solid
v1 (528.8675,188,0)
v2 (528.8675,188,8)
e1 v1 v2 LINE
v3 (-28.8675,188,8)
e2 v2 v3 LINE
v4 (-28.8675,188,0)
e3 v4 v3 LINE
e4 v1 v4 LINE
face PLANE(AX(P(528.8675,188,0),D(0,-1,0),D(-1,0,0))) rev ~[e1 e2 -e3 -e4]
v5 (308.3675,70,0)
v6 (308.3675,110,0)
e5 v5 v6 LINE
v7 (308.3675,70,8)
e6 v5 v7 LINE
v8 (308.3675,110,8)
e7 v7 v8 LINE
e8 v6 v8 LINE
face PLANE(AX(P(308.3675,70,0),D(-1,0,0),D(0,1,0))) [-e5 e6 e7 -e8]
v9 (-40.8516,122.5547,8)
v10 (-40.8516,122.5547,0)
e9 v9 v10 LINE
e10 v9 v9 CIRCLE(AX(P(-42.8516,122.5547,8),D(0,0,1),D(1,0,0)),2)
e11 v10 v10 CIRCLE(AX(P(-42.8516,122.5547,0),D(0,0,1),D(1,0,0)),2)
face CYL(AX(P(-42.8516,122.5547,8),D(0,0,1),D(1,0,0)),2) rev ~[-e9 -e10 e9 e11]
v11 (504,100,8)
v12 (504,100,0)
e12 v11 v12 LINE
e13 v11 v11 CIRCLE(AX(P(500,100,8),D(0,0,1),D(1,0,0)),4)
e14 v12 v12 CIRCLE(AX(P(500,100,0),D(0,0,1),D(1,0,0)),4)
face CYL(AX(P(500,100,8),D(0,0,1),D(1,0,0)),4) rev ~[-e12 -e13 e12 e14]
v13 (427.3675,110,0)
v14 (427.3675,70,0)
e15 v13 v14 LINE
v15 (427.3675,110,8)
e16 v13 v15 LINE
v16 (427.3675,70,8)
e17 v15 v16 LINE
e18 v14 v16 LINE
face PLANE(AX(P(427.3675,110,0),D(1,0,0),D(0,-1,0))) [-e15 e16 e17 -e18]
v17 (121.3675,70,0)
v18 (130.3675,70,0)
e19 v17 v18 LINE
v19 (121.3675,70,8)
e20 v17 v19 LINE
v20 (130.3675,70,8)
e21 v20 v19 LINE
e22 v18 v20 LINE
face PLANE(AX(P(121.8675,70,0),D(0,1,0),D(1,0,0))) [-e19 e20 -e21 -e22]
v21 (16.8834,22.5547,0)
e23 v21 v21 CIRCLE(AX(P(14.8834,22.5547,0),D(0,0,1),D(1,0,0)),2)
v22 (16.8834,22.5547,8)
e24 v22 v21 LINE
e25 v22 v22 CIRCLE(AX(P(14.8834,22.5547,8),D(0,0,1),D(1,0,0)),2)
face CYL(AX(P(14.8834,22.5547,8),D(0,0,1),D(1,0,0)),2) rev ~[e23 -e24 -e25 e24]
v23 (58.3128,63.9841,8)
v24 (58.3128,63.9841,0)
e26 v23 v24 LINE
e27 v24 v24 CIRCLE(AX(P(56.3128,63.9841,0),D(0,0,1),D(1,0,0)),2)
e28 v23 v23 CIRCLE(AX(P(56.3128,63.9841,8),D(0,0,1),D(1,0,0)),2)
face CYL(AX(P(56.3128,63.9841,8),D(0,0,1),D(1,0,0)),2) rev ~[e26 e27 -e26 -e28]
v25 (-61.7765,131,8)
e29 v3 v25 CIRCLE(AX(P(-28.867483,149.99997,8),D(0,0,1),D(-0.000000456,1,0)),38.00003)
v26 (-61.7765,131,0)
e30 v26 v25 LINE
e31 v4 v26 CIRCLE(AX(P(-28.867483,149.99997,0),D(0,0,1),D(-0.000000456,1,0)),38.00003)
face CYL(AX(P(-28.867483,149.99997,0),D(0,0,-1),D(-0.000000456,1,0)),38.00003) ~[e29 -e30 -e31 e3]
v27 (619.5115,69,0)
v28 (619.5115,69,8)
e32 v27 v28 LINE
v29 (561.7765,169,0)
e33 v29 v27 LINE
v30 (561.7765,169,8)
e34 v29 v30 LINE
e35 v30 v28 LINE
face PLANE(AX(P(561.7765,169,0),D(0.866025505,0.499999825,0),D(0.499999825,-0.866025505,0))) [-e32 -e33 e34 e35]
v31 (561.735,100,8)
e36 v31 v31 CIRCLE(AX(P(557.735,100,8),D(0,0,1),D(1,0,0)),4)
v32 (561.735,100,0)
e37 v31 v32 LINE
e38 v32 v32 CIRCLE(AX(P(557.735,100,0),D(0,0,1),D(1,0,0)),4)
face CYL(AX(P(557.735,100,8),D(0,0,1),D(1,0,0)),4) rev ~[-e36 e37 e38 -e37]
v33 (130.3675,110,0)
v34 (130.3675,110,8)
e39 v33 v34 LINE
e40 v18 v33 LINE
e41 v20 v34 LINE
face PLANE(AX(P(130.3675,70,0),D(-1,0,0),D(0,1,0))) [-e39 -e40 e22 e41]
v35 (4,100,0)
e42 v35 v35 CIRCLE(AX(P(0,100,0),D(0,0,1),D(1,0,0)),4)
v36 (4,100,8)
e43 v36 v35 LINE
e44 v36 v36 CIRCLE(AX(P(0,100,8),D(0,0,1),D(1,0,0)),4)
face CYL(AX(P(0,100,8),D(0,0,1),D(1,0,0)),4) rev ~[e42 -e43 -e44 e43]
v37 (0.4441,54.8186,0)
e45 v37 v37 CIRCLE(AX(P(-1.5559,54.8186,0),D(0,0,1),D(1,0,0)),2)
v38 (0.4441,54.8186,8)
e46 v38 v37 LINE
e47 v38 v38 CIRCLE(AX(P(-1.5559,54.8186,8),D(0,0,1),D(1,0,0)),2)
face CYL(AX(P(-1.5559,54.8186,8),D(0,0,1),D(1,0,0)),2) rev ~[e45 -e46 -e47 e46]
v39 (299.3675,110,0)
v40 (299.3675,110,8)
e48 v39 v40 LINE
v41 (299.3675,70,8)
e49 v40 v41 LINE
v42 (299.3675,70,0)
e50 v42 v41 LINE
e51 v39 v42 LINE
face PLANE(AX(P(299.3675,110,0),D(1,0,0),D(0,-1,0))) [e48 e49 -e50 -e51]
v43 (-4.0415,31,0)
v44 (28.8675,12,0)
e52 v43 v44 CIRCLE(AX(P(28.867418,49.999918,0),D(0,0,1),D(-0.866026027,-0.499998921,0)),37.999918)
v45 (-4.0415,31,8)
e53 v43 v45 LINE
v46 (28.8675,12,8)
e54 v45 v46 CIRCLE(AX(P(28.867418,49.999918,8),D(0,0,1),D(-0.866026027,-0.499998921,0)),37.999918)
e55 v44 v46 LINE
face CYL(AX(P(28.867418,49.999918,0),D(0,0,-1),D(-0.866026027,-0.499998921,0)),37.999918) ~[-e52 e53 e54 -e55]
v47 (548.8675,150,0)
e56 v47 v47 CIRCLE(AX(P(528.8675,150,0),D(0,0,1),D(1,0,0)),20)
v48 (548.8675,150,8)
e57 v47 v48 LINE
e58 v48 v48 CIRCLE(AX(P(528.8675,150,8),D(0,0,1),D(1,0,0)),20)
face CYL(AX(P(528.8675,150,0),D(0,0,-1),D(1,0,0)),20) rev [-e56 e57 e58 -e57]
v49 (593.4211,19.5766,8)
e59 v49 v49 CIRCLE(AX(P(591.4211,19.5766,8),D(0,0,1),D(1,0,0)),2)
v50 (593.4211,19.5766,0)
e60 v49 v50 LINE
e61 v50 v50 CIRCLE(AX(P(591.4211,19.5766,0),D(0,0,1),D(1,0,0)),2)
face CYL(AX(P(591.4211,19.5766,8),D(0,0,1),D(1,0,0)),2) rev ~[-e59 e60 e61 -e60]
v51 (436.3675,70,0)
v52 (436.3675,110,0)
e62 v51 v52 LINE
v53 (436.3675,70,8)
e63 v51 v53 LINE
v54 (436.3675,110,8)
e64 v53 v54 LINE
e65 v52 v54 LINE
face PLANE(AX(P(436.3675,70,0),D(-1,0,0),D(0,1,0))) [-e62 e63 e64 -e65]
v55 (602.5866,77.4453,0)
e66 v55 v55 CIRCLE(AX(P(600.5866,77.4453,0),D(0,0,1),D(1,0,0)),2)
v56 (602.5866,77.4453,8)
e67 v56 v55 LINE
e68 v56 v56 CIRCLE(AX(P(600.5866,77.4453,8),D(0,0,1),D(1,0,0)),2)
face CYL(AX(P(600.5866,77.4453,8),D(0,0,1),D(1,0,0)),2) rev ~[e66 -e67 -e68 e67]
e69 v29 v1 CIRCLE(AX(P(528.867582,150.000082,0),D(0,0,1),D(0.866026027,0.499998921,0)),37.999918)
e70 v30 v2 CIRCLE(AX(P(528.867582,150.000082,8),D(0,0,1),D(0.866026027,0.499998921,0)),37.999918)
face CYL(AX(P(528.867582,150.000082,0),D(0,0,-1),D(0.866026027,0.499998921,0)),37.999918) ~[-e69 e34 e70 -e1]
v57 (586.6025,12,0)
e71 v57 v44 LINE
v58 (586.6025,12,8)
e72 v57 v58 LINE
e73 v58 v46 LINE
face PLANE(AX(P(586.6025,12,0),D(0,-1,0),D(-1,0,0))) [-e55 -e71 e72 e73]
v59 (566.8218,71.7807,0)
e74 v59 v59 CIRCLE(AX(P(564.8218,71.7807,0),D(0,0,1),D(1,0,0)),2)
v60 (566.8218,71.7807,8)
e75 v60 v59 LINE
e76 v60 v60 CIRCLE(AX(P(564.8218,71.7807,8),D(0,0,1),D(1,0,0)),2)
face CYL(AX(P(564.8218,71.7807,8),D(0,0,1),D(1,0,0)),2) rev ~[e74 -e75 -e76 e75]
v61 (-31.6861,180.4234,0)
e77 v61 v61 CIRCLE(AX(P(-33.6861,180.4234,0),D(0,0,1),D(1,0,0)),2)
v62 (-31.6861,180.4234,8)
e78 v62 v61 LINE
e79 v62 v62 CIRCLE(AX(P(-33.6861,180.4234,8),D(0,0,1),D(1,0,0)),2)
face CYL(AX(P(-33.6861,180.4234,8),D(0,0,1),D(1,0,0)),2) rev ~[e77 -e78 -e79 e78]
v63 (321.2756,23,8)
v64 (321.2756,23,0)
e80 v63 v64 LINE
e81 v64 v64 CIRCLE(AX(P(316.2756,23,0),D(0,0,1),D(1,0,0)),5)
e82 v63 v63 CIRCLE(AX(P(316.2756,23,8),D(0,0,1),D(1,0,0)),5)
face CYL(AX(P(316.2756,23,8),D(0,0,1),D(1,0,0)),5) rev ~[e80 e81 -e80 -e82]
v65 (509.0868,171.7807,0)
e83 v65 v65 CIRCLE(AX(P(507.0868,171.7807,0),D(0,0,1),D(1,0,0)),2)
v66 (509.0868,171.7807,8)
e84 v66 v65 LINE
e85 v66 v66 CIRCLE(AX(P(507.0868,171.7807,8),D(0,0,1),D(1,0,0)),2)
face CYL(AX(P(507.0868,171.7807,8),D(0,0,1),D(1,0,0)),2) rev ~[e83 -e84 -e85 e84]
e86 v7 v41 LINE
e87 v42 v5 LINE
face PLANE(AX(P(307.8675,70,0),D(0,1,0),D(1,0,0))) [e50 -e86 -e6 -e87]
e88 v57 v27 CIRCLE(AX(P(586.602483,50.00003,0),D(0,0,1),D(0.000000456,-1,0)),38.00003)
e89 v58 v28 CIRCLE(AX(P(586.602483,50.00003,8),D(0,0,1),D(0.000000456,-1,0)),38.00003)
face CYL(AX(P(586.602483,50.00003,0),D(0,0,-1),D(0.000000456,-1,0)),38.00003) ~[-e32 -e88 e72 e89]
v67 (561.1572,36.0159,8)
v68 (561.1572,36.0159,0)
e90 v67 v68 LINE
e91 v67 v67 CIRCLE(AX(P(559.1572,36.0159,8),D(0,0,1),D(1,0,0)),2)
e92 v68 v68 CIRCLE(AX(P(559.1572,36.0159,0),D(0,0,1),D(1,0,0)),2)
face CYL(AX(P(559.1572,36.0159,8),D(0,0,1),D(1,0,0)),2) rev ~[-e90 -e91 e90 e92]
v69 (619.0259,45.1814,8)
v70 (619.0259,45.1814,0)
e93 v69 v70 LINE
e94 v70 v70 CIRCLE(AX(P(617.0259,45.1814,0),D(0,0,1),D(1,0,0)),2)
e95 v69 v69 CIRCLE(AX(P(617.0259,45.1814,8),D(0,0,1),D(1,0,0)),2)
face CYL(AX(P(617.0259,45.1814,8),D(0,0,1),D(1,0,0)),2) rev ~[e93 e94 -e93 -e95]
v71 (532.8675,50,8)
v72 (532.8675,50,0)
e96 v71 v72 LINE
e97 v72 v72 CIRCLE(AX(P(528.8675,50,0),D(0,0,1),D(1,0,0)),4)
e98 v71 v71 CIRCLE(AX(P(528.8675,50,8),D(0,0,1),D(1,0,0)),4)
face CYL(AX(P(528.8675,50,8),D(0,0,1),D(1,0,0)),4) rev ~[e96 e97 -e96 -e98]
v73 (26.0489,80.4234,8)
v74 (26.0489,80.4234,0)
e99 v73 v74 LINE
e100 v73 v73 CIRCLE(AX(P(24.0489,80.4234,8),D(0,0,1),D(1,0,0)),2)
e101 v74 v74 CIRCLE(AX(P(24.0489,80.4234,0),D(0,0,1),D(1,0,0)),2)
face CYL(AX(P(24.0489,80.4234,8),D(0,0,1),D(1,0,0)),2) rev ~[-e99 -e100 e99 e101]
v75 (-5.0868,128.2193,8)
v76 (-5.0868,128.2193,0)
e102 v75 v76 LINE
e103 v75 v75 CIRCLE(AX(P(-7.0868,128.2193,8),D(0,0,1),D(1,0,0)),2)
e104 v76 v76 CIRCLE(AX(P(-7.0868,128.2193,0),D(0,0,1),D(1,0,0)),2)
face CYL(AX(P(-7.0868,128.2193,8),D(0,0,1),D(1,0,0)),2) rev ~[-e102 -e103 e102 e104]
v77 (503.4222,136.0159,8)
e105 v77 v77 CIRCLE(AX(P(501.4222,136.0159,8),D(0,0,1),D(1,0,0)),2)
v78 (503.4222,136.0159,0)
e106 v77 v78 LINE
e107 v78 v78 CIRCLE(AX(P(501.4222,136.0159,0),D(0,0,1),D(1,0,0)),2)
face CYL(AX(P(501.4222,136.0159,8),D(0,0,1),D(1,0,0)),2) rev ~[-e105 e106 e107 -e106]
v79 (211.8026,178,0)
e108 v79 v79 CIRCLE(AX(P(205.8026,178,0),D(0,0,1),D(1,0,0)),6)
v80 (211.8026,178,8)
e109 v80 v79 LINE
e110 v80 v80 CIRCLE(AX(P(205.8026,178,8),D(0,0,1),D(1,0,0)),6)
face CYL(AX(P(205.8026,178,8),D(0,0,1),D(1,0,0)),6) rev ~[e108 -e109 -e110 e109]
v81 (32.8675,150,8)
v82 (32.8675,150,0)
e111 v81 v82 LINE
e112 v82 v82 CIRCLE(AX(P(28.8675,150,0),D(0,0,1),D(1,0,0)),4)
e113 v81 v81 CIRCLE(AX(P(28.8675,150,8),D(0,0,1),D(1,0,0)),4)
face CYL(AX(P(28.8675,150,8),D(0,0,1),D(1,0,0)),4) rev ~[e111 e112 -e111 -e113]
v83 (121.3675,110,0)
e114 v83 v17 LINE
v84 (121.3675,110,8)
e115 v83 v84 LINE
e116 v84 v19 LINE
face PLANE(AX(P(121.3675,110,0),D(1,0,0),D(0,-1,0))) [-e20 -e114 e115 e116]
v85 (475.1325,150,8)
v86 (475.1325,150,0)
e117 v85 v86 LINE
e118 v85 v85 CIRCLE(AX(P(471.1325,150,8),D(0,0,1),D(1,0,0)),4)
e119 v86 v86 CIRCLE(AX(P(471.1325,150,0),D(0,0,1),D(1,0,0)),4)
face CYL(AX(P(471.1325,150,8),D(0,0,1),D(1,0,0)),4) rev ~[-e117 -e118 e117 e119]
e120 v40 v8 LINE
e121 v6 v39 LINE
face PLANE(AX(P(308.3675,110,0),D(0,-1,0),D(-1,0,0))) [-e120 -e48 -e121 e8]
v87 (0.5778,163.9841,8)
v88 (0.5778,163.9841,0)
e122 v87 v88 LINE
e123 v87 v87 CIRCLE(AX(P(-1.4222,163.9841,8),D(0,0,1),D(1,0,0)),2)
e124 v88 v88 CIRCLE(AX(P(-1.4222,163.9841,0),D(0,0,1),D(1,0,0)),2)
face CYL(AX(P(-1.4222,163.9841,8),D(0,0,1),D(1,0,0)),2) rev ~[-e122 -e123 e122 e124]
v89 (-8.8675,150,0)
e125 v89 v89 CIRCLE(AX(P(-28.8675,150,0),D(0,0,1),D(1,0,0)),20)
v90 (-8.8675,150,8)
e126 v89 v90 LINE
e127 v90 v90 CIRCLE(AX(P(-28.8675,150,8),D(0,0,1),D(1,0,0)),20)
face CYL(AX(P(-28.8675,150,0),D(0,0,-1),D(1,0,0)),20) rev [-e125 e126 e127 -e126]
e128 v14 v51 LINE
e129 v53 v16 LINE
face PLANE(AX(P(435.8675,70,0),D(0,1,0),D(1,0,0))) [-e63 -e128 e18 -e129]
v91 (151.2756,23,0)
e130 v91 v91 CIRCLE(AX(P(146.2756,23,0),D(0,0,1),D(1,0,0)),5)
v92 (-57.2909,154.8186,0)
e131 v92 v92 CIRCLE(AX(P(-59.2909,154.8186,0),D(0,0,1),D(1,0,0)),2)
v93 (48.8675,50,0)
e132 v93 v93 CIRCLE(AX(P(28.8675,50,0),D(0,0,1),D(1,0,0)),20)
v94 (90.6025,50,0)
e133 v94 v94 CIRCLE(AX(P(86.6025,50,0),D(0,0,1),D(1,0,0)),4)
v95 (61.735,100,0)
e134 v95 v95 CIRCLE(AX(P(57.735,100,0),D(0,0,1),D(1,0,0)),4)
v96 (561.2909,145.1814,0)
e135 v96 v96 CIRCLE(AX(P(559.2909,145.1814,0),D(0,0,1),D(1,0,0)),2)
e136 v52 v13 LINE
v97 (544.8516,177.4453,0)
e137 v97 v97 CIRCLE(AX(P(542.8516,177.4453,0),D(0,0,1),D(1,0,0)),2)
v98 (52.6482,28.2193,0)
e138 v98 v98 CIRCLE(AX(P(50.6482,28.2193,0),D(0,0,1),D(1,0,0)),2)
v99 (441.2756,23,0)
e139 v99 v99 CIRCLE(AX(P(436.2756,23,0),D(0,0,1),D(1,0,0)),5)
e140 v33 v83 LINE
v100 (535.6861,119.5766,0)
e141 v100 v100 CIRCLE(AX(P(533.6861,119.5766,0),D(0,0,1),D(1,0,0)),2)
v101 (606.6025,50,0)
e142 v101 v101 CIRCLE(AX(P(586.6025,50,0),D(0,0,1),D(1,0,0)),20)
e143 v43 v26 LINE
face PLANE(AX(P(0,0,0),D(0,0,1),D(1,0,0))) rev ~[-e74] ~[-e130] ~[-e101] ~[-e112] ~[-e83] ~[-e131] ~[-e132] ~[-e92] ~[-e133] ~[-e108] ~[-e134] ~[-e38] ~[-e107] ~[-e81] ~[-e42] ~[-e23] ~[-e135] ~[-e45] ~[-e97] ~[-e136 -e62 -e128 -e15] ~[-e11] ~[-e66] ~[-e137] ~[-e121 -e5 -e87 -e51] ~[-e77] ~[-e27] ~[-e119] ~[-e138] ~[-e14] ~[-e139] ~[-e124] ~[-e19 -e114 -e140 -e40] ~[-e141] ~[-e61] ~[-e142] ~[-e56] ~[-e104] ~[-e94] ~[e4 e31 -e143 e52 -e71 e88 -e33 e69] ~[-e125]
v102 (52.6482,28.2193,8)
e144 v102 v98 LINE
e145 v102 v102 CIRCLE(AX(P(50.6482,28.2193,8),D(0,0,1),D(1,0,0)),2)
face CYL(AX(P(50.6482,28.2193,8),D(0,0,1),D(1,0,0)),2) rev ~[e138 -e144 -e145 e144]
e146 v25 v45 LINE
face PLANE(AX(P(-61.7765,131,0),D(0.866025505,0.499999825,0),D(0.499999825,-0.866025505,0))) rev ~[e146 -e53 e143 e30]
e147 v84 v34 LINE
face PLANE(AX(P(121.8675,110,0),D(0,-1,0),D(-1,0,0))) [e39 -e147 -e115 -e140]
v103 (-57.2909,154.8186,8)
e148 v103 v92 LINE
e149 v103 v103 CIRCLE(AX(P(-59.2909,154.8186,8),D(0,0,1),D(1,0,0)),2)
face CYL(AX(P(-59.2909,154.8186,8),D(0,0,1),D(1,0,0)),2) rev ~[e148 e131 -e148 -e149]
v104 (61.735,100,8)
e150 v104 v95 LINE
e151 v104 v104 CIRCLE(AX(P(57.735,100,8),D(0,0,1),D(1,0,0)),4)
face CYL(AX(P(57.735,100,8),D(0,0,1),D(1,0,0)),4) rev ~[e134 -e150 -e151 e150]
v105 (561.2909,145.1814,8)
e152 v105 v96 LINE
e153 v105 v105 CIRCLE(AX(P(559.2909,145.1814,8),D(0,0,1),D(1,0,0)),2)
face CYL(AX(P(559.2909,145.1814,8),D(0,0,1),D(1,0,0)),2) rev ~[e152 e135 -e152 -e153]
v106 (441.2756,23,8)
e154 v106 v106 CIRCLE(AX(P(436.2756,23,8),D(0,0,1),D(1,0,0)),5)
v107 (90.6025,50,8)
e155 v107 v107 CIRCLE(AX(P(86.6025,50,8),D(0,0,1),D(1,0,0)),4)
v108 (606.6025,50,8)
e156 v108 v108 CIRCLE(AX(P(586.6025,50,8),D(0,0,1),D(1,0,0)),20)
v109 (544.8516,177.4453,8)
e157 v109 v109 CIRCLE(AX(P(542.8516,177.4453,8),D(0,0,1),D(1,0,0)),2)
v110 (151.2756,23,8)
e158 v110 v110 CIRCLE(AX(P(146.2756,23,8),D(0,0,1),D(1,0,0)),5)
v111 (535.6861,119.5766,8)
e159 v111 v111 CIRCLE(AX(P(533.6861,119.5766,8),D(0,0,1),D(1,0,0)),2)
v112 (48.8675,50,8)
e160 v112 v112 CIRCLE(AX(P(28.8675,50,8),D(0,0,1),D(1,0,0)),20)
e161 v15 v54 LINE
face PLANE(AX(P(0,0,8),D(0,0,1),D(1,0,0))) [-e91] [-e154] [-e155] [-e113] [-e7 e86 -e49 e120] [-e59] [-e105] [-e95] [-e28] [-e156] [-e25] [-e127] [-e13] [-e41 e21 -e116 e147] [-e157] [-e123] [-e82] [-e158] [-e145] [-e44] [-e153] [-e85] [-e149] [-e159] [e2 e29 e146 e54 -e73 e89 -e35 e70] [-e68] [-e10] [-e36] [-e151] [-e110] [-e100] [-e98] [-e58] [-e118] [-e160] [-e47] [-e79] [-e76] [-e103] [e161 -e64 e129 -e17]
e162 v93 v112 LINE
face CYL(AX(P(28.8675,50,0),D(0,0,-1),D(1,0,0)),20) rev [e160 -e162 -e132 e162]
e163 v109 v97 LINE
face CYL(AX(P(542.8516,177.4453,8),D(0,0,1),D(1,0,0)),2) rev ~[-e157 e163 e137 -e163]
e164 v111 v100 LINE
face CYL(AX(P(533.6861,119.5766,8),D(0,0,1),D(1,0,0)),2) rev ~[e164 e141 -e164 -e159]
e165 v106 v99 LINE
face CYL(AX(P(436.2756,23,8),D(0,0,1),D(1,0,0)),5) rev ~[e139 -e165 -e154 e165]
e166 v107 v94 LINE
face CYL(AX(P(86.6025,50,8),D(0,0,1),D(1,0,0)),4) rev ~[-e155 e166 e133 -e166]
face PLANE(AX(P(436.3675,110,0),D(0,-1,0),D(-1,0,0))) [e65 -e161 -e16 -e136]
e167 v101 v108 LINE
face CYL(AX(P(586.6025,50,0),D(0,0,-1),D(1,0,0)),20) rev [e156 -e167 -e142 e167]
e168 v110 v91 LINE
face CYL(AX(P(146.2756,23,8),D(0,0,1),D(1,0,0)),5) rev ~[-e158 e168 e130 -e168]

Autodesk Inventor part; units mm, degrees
ref_plane "YZ Plane" through (0, 0, 0) normal (1, 0, 0) x (0, 1, 0)
ref_plane "XZ Plane" through (0, 0, 0) normal (0, 1, 0) x (-1, 0, 0)
ref_plane "XY Plane" through (0, 0, 0) normal (0, 0, 1) x (1, 0, 0)
sketch "Эскиз1" plane through (0, 0, 0) normal (0, 0, 1) x (1, 0, 0)
  line L0 (0, 0) -> (351.5171, 0) construction
  line L1 (28.8675, 50) -> (528.8675, 50) construction
  line L2 (528.8675, 50) -> (528.8675, 200) construction
  circle A0 centre (-28.8675, 150) radius 20
  circle A1 centre (28.8675, 50) radius 20
  circle A2 centre (586.6025, 50) radius 20
  circle A3 centre (528.8675, 150) radius 20
  circle A4 centre (528.8675, 150) radius 50 construction
  circle A5 centre (28.8675, 50) radius 50 construction
  line L3 (478.8675, 150) -> (478.8675, 60) construction
  line L4 (78.8675, 60) -> (78.8675, 200) construction
  line L5 (478.8675, 150) -> (478.8675, 200) construction
  line L6 (-86.0463, 60) -> (78.8675, 60) construction
  arc A6 (561.7765, 169) -> (528.8675, 188) centre (528.8675, 150) ccw
  arc A7 (586.6025, 12) -> (619.5115, 69) centre (586.6025, 50) ccw
  arc A8 (-28.8675, 188) -> (-61.7765, 131) centre (-28.8675, 150) ccw
  arc A9 (-4.0415, 31) -> (28.8675, 12) centre (28.8675, 50) ccw
  line L7 (-61.7765, 131) -> (-4.0415, 31)
  line L8 (478.8675, 60) -> (623.2631, 60) construction
  line L9 (635.5923, 60) -> (638.5641, 60) construction
  line L10 (561.7765, 169) -> (619.5115, 69)
  circle A10 centre (-28.8675, 150) radius 50 construction
  line L11 (-45.5421, 103.966) -> (-45.7799, 104.0432) construction
  arc A11 (-2.1023, 179.4126) -> (3.5169, 179.4126) centre (0.7073, 183.2797) ccw construction
  arc A12 (-9.1654, 184.5442) -> (-2.1023, 179.4126) centre (-2.2483, 186.6382) ccw construction
  arc A13 (-10.9018, 189.8884) -> (-9.1654, 184.5442) centre (-6.3557, 188.4113) ccw construction
  line L12 (10.7754, 48.5676) -> (10.8465, 48.7864)
  line L13 (8.5834, 183.0936) -> (14.1794, 175.3914)
  line L14 (49.7439, -4.7602) -> (49.7729, -4.7602) construction
  line L15 (49.7504, 4.7602) -> (49.7729, 4.7602) construction
  line L16 (49.7504, 4.7602) -> (49.7504, 4.9902) construction
  line L17 (8.5834, 183.0936) -> (3.5169, 179.4126) construction
  line L18 (-10.9018, 189.8884) -> (-8.9686, 195.8382) construction
  line L19 (-18.0211, 198.7864) -> (-8.9666, 195.8444)
  line L20 (-18.0211, 198.7864) -> (-19.9563, 192.8304) construction
  arc A14 (-24.5023, 189.5275) -> (-19.9563, 192.8304) centre (-24.5023, 194.3075) ccw construction
  arc A15 (-33.2327, 189.5275) -> (-24.5023, 189.5275) centre (-28.8675, 195.2874) ccw construction
  arc A16 (-37.7787, 192.8304) -> (-33.2327, 189.5275) centre (-33.2327, 194.3075) ccw construction
  line L21 (-37.7787, 192.8304) -> (-39.712, 198.7802) construction
  line L22 (-48.7685, 195.8444) -> (-39.714, 198.7864)
  line L23 (-48.7685, 195.8444) -> (-46.8332, 189.8884) construction
  arc A17 (-48.5697, 184.5442) -> (-46.8332, 189.8884) centre (-51.3793, 188.4113) ccw construction
  arc A18 (-55.6327, 179.4126) -> (-48.5697, 184.5442) centre (-55.4868, 186.6382) ccw construction
  arc A19 (-61.2519, 179.4126) -> (-55.6327, 179.4126) centre (-58.4423, 183.2797) ccw construction
  line L24 (-61.2519, 179.4126) -> (-66.3131, 183.0898) construction
  line L25 (-71.9144, 175.3914) -> (-66.3184, 183.0936)
  line L26 (-71.9144, 175.3914) -> (-66.8479, 171.7104) construction
  arc A20 (-65.1114, 166.3662) -> (-66.8479, 171.7104) centre (-69.6575, 167.8433) ccw construction
  arc A21 (-67.8093, 158.0631) -> (-65.1114, 166.3662) centre (-71.9383, 163.9946) ccw construction
  arc A22 (-72.3553, 154.7602) -> (-67.8093, 158.0631) centre (-72.3553, 159.5402) ccw construction
  line L27 (-72.3553, 154.7602) -> (-78.6114, 154.7602) construction
  line L28 (-78.6179, 145.2398) -> (-78.6179, 154.7602)
  line L29 (-78.6179, 145.2398) -> (-72.3553, 145.2398) construction
  arc A23 (-67.8093, 141.9369) -> (-72.3553, 145.2398) centre (-72.3553, 140.4598) ccw construction
  arc A24 (-65.1114, 133.6338) -> (-67.8093, 141.9369) centre (-71.9383, 136.0054) ccw construction
  arc A25 (-66.8479, 128.2896) -> (-65.1114, 133.6338) centre (-69.6575, 132.1567) ccw construction
  line L30 (-66.8479, 128.2896) -> (-71.9091, 124.6124) construction
  line L31 (-66.3184, 116.9064) -> (-71.9144, 124.6086)
  line L32 (-66.3184, 116.9064) -> (-61.2519, 120.5874) construction
  arc A26 (-55.6327, 120.5874) -> (-61.2519, 120.5874) centre (-58.4423, 116.7203) ccw construction
  arc A27 (-48.5697, 115.4558) -> (-55.6327, 120.5874) centre (-55.4868, 113.3618) ccw construction
  arc A28 (-46.8332, 110.1116) -> (-48.5697, 115.4558) centre (-51.3793, 111.5887) ccw construction
  line L33 (-46.8332, 110.1116) -> (-48.7665, 104.1618) construction
  line L34 (-39.714, 101.2136) -> (-48.7685, 104.1556)
  line L35 (-39.714, 101.2136) -> (-37.7787, 107.1696) construction
  arc A29 (-33.2327, 110.4725) -> (-37.7787, 107.1696) centre (-33.2327, 105.6925) ccw construction
  arc A30 (-24.5023, 110.4725) -> (-33.2327, 110.4725) centre (-28.8675, 104.7126) ccw construction
  arc A31 (-19.9563, 107.1696) -> (-24.5023, 110.4725) centre (-24.5023, 105.6925) ccw construction
  line L36 (-19.9563, 107.1696) -> (-18.0231, 101.2198) construction
  line L37 (-8.9666, 104.1556) -> (-18.0211, 101.2136)
  line L38 (-8.9666, 104.1556) -> (-10.9018, 110.1116) construction
  arc A32 (-9.1654, 115.4558) -> (-10.9018, 110.1116) centre (-6.3557, 111.5887) ccw construction
  arc A33 (-2.1023, 120.5874) -> (-9.1654, 115.4558) centre (-2.2483, 113.3618) ccw construction
  arc A34 (3.5169, 120.5874) -> (-2.1023, 120.5874) centre (0.7073, 116.7203) ccw construction
  line L39 (3.5169, 120.5874) -> (8.5781, 116.9102) construction
  line L40 (14.1794, 124.6086) -> (8.5834, 116.9064)
  line L41 (14.1794, 124.6086) -> (9.1129, 128.2896) construction
  arc A35 (7.3764, 133.6338) -> (9.1129, 128.2896) centre (11.9225, 132.1567) ccw construction
  arc A36 (10.0743, 141.9369) -> (7.3764, 133.6338) centre (14.2033, 136.0054) ccw construction
  arc A37 (14.6203, 145.2398) -> (10.0743, 141.9369) centre (14.6203, 140.4598) ccw construction
  line L42 (14.6203, 145.2398) -> (20.8763, 145.2398) construction
  line L43 (20.8828, 154.7602) -> (20.8828, 145.2398)
  line L44 (20.8828, 154.7602) -> (14.6203, 154.7602) construction
  arc A38 (10.0743, 158.0631) -> (14.6203, 154.7602) centre (14.6203, 159.5402) ccw construction
  arc A39 (7.3764, 166.3662) -> (10.0743, 158.0631) centre (14.2033, 163.9946) ccw construction
  arc A40 (9.1129, 171.7104) -> (7.3764, 166.3662) centre (11.9225, 167.8433) ccw construction
  line L45 (9.1129, 171.7104) -> (14.1741, 175.3876) construction
  line L46 (508.9665, 195.8444) -> (510.9018, 189.8884) construction
  arc A41 (509.1653, 184.5442) -> (510.9018, 189.8884) centre (506.3557, 188.4113) ccw construction
  arc A42 (502.1023, 179.4126) -> (509.1653, 184.5442) centre (502.2482, 186.6382) ccw construction
  arc A43 (496.4831, 179.4126) -> (502.1023, 179.4126) centre (499.2927, 183.2797) ccw construction
  line L47 (485.8206, 175.3914) -> (491.4166, 183.0936)
  line L48 (496.4831, 179.4126) -> (491.4219, 183.0898) construction
  line L49 (508.9665, 195.8444) -> (518.021, 198.7864)
  line L50 (519.9563, 192.8304) -> (518.023, 198.7802) construction
  arc A44 (519.9563, 192.8304) -> (524.5023, 189.5275) centre (524.5023, 194.3075) ccw construction
  arc A45 (524.5023, 189.5275) -> (533.2327, 189.5275) centre (528.8675, 195.2874) ccw construction
  arc A46 (533.2327, 189.5275) -> (537.7787, 192.8304) centre (533.2327, 194.3075) ccw construction
  line L51 (539.7139, 198.7864) -> (537.7787, 192.8304) construction
  line L52 (539.7139, 198.7864) -> (548.7684, 195.8444)
  line L53 (546.8332, 189.8884) -> (548.7664, 195.8382) construction
  arc A47 (546.8332, 189.8884) -> (548.5696, 184.5442) centre (551.3793, 188.4113) ccw construction
  arc A48 (548.5696, 184.5442) -> (555.6327, 179.4126) centre (555.4867, 186.6382) ccw construction
  arc A49 (555.6327, 179.4126) -> (561.2519, 179.4126) centre (558.4423, 183.2797) ccw construction
  line L54 (566.3184, 183.0936) -> (561.2519, 179.4126) construction
  line L55 (566.3184, 183.0936) -> (571.9144, 175.3914)
  line L56 (566.8479, 171.7104) -> (571.9091, 175.3876) construction
  arc A50 (566.8479, 171.7104) -> (565.1114, 166.3662) centre (569.6575, 167.8433) ccw construction
  arc A51 (565.1114, 166.3662) -> (567.8093, 158.0631) centre (571.9383, 163.9946) ccw construction
  arc A52 (567.8093, 158.0631) -> (572.3553, 154.7602) centre (572.3553, 159.5402) ccw construction
  line L57 (578.6178, 154.7602) -> (572.3553, 154.7602) construction
  line L58 (578.6178, 154.7602) -> (578.6178, 145.2398)
  line L59 (572.3553, 145.2398) -> (578.6113, 145.2398) construction
  arc A53 (572.3553, 145.2398) -> (567.8093, 141.9369) centre (572.3553, 140.4598) ccw construction
  arc A54 (567.8093, 141.9369) -> (565.1114, 133.6338) centre (571.9383, 136.0054) ccw construction
  arc A55 (565.1114, 133.6338) -> (566.8479, 128.2896) centre (569.6575, 132.1567) ccw construction
  line L60 (571.9144, 124.6086) -> (566.8479, 128.2896) construction
  line L61 (571.9144, 124.6086) -> (566.3184, 116.9064)
  line L62 (561.2519, 120.5874) -> (566.3131, 116.9102) construction
  arc A56 (561.2519, 120.5874) -> (555.6327, 120.5874) centre (558.4423, 116.7203) ccw construction
  arc A57 (555.6327, 120.5874) -> (548.5696, 115.4558) centre (555.4867, 113.3618) ccw construction
  arc A58 (548.5696, 115.4558) -> (546.8332, 110.1116) centre (551.3793, 111.5887) ccw construction
  line L63 (548.7684, 104.1556) -> (546.8332, 110.1116) construction
  line L64 (548.7684, 104.1556) -> (539.7139, 101.2136)
  line L65 (537.7787, 107.1696) -> (539.7119, 101.2198) construction
  arc A59 (537.7787, 107.1696) -> (533.2327, 110.4725) centre (533.2327, 105.6925) ccw construction
  arc A60 (533.2327, 110.4725) -> (524.5023, 110.4725) centre (528.8675, 104.7126) ccw construction
  arc A61 (524.5023, 110.4725) -> (519.9563, 107.1696) centre (524.5023, 105.6925) ccw construction
  line L66 (518.021, 101.2136) -> (519.9563, 107.1696) construction
  line L67 (518.021, 101.2136) -> (508.9665, 104.1556)
  line L68 (510.9018, 110.1116) -> (508.9685, 104.1618) construction
  arc A62 (510.9018, 110.1116) -> (509.1653, 115.4558) centre (506.3557, 111.5887) ccw construction
  arc A63 (509.1653, 115.4558) -> (502.1023, 120.5874) centre (502.2482, 113.3618) ccw construction
  arc A64 (502.1023, 120.5874) -> (496.4831, 120.5874) centre (499.2927, 116.7203) ccw construction
  line L69 (491.4166, 116.9064) -> (496.4831, 120.5874) construction
  line L70 (491.4166, 116.9064) -> (485.8206, 124.6086)
  line L71 (490.8871, 128.2896) -> (485.8259, 124.6124) construction
  arc A65 (490.8871, 128.2896) -> (492.6236, 133.6338) centre (488.0775, 132.1567) ccw construction
  arc A66 (492.6236, 133.6338) -> (489.9257, 141.9369) centre (485.7967, 136.0054) ccw construction
  arc A67 (489.9257, 141.9369) -> (485.3797, 145.2398) centre (485.3797, 140.4598) ccw construction
  line L72 (479.1171, 145.2398) -> (485.3797, 145.2398) construction
  line L73 (479.1171, 145.2398) -> (479.1171, 154.7602)
  line L74 (485.3797, 154.7602) -> (479.1236, 154.7602) construction
  arc A68 (485.3797, 154.7602) -> (489.9257, 158.0631) centre (485.3797, 159.5402) ccw construction
  arc A69 (489.9257, 158.0631) -> (492.6236, 166.3662) centre (485.7967, 163.9946) ccw construction
  arc A70 (492.6236, 166.3662) -> (490.8871, 171.7104) centre (488.0775, 167.8433) ccw construction
  line L75 (485.8206, 175.3914) -> (490.8871, 171.7104) construction
  circle A71 centre (528.8675, 150) radius 50 construction
  line L76 (528.8675, 188) -> (-28.8675, 188)
  line L77 (586.6025, 12) -> (28.8675, 12)
  line L78 (435.8675, 60) -> (121.8675, 60) construction
  line L79 (478.8675, 60) -> (435.8675, 60) construction
  line L80 (78.8675, 60) -> (121.8675, 60) construction
  line L81 (121.8675, 70) -> (435.8675, 70) construction
  line L82 (435.8675, 70) -> (427.8675, 70)
  line L83 (427.8675, 110) -> (435.8675, 110)
  line L84 (121.8675, 70) -> (129.8675, 70)
  line L85 (129.8675, 110) -> (121.8675, 110)
  line L86 (427.8675, 70) -> (307.8675, 70) construction
  line L87 (307.8675, 70) -> (299.8675, 70)
  line L88 (299.8675, 110) -> (307.8675, 110)
  line L89 (121.8675, 110) -> (121.3675, 110)
  line L90 (121.3675, 110) -> (121.3675, 70)
  line L91 (121.3675, 70) -> (121.8675, 70)
  line L92 (129.8675, 70) -> (130.3675, 70)
  line L93 (130.3675, 70) -> (130.3675, 110)
  line L94 (130.3675, 110) -> (129.8675, 110)
  line L95 (299.8675, 110) -> (299.3675, 110)
  line L96 (299.3675, 110) -> (299.3675, 70)
  line L97 (299.8675, 70) -> (299.3675, 70)
  line L98 (307.8675, 70) -> (308.3675, 70)
  line L99 (308.3675, 70) -> (308.3675, 110)
  line L100 (308.3675, 110) -> (307.8675, 110)
  line L101 (435.8675, 70) -> (436.3675, 70)
  line L102 (436.3675, 70) -> (436.3675, 110)
  line L103 (436.3675, 110) -> (435.8675, 110)
  line L104 (427.8675, 110) -> (427.3675, 110)
  line L105 (427.3675, 110) -> (427.3675, 70)
  line L106 (427.8675, 70) -> (427.3675, 70)
  dimension "d44" = 360
  dimension "d46" = 360
  dimension "d9" = 40
  dimension "d10" = 40
  dimension "d11" = 40
  dimension "d12" = 40
  dimension "d29" = 76
  dimension "d30" = 76
  dimension "d31" = 76
  dimension "d35" = 100
  dimension "d49" = 360
  dimension "d53" = 557.735
  dimension "d58" = 549.0046
  dimension "d59" = 314
  dimension "d60" = 10
  dimension "d61" = 8
  dimension "d62" = 40
  dimension "d63" = 8
  dimension "d64" = 40
  dimension "d69" = 8
  dimension "d71" = 0.5
  dimension "d72" = 0.5
  dimension "d73" = 0.5
  dimension "d74" = 0.5
  dimension "d75" = 0.5
  dimension "d76" = 0.5
extrude "Выдавливание2" add sketch "Эскиз1" along normal blind 8
sketch "Эскиз2" plane through (0, 0, 8) normal (0, 0, 1) x (1, 0, 0)
  circle A0 centre (28.8675, 150) radius 4 projected
  circle A1 centre (-1.4222, 163.9841) radius 2 projected
  circle A2 centre (-7.0868, 128.2193) radius 2 projected
  circle A3 centre (-42.8516, 122.5547) radius 2 projected
  circle A4 centre (-59.2909, 154.8186) radius 2 projected
  circle A5 centre (-33.6861, 180.4234) radius 2 projected
  circle A6 centre (57.735, 100) radius 4 projected
  circle A7 centre (86.6025, 50) radius 4 projected
  circle A8 centre (56.3128, 63.9841) radius 2 projected
  circle A9 centre (50.6482, 28.2193) radius 2 projected
  circle A10 centre (14.8834, 22.5547) radius 2 projected
  circle A11 centre (-1.5559, 54.8186) radius 2 projected
  circle A12 centre (24.0489, 80.4234) radius 2 projected
  circle A13 centre (559.1572, 36.0159) radius 2 projected
  circle A14 centre (564.8218, 71.7807) radius 2 projected
  circle A15 centre (559.1572, 36.0159) radius 2 projected
  circle A16 centre (600.5866, 77.4453) radius 2 projected
  circle A17 centre (617.0259, 45.1814) radius 2 projected
  circle A18 centre (564.8218, 71.7807) radius 2 projected
  circle A19 centre (591.4211, 19.5766) radius 2 projected
  circle A20 centre (617.0259, 45.1814) radius 2 projected
  circle A21 centre (507.0868, 171.7807) radius 2 projected
  circle A22 centre (542.8516, 177.4453) radius 2 projected
  circle A23 centre (559.2909, 145.1814) radius 2 projected
  circle A24 centre (533.6861, 119.5766) radius 2 projected
  circle A25 centre (501.4222, 136.0159) radius 2 projected
  circle A26 centre (557.735, 100) radius 4 projected
  circle A27 centre (528.8675, 50) radius 4 projected
  circle A28 centre (500, 100) radius 4 projected
  circle A29 centre (471.1325, 150) radius 4 projected
  circle A30 centre (0, 100) radius 4 projected
  circle A31 centre (146.2756, 23) radius 5
  circle A32 centre (436.2756, 23) radius 5
  circle A33 centre (316.2756, 23) radius 5
  line L0 (28.8675, 12) -> (586.6025, 12) projected
  circle A34 centre (205.8026, 178) radius 6
  line L1 (528.8675, 188) -> (-28.8675, 188) projected
  point P0 (0, 0)
  dimension "d77" = 10
  dimension "d78" = 10
  dimension "d79" = 10
  dimension "d80" = 11
  dimension "d81" = 11
  dimension "d82" = 11
  dimension "d83" = 120
  dimension "d84" = 170
  dimension "d85" = 12
  dimension "d86" = 10
extrude "Выдавливание3" cut sketch "Эскиз2" against normal through all
properties part number "stenka"
